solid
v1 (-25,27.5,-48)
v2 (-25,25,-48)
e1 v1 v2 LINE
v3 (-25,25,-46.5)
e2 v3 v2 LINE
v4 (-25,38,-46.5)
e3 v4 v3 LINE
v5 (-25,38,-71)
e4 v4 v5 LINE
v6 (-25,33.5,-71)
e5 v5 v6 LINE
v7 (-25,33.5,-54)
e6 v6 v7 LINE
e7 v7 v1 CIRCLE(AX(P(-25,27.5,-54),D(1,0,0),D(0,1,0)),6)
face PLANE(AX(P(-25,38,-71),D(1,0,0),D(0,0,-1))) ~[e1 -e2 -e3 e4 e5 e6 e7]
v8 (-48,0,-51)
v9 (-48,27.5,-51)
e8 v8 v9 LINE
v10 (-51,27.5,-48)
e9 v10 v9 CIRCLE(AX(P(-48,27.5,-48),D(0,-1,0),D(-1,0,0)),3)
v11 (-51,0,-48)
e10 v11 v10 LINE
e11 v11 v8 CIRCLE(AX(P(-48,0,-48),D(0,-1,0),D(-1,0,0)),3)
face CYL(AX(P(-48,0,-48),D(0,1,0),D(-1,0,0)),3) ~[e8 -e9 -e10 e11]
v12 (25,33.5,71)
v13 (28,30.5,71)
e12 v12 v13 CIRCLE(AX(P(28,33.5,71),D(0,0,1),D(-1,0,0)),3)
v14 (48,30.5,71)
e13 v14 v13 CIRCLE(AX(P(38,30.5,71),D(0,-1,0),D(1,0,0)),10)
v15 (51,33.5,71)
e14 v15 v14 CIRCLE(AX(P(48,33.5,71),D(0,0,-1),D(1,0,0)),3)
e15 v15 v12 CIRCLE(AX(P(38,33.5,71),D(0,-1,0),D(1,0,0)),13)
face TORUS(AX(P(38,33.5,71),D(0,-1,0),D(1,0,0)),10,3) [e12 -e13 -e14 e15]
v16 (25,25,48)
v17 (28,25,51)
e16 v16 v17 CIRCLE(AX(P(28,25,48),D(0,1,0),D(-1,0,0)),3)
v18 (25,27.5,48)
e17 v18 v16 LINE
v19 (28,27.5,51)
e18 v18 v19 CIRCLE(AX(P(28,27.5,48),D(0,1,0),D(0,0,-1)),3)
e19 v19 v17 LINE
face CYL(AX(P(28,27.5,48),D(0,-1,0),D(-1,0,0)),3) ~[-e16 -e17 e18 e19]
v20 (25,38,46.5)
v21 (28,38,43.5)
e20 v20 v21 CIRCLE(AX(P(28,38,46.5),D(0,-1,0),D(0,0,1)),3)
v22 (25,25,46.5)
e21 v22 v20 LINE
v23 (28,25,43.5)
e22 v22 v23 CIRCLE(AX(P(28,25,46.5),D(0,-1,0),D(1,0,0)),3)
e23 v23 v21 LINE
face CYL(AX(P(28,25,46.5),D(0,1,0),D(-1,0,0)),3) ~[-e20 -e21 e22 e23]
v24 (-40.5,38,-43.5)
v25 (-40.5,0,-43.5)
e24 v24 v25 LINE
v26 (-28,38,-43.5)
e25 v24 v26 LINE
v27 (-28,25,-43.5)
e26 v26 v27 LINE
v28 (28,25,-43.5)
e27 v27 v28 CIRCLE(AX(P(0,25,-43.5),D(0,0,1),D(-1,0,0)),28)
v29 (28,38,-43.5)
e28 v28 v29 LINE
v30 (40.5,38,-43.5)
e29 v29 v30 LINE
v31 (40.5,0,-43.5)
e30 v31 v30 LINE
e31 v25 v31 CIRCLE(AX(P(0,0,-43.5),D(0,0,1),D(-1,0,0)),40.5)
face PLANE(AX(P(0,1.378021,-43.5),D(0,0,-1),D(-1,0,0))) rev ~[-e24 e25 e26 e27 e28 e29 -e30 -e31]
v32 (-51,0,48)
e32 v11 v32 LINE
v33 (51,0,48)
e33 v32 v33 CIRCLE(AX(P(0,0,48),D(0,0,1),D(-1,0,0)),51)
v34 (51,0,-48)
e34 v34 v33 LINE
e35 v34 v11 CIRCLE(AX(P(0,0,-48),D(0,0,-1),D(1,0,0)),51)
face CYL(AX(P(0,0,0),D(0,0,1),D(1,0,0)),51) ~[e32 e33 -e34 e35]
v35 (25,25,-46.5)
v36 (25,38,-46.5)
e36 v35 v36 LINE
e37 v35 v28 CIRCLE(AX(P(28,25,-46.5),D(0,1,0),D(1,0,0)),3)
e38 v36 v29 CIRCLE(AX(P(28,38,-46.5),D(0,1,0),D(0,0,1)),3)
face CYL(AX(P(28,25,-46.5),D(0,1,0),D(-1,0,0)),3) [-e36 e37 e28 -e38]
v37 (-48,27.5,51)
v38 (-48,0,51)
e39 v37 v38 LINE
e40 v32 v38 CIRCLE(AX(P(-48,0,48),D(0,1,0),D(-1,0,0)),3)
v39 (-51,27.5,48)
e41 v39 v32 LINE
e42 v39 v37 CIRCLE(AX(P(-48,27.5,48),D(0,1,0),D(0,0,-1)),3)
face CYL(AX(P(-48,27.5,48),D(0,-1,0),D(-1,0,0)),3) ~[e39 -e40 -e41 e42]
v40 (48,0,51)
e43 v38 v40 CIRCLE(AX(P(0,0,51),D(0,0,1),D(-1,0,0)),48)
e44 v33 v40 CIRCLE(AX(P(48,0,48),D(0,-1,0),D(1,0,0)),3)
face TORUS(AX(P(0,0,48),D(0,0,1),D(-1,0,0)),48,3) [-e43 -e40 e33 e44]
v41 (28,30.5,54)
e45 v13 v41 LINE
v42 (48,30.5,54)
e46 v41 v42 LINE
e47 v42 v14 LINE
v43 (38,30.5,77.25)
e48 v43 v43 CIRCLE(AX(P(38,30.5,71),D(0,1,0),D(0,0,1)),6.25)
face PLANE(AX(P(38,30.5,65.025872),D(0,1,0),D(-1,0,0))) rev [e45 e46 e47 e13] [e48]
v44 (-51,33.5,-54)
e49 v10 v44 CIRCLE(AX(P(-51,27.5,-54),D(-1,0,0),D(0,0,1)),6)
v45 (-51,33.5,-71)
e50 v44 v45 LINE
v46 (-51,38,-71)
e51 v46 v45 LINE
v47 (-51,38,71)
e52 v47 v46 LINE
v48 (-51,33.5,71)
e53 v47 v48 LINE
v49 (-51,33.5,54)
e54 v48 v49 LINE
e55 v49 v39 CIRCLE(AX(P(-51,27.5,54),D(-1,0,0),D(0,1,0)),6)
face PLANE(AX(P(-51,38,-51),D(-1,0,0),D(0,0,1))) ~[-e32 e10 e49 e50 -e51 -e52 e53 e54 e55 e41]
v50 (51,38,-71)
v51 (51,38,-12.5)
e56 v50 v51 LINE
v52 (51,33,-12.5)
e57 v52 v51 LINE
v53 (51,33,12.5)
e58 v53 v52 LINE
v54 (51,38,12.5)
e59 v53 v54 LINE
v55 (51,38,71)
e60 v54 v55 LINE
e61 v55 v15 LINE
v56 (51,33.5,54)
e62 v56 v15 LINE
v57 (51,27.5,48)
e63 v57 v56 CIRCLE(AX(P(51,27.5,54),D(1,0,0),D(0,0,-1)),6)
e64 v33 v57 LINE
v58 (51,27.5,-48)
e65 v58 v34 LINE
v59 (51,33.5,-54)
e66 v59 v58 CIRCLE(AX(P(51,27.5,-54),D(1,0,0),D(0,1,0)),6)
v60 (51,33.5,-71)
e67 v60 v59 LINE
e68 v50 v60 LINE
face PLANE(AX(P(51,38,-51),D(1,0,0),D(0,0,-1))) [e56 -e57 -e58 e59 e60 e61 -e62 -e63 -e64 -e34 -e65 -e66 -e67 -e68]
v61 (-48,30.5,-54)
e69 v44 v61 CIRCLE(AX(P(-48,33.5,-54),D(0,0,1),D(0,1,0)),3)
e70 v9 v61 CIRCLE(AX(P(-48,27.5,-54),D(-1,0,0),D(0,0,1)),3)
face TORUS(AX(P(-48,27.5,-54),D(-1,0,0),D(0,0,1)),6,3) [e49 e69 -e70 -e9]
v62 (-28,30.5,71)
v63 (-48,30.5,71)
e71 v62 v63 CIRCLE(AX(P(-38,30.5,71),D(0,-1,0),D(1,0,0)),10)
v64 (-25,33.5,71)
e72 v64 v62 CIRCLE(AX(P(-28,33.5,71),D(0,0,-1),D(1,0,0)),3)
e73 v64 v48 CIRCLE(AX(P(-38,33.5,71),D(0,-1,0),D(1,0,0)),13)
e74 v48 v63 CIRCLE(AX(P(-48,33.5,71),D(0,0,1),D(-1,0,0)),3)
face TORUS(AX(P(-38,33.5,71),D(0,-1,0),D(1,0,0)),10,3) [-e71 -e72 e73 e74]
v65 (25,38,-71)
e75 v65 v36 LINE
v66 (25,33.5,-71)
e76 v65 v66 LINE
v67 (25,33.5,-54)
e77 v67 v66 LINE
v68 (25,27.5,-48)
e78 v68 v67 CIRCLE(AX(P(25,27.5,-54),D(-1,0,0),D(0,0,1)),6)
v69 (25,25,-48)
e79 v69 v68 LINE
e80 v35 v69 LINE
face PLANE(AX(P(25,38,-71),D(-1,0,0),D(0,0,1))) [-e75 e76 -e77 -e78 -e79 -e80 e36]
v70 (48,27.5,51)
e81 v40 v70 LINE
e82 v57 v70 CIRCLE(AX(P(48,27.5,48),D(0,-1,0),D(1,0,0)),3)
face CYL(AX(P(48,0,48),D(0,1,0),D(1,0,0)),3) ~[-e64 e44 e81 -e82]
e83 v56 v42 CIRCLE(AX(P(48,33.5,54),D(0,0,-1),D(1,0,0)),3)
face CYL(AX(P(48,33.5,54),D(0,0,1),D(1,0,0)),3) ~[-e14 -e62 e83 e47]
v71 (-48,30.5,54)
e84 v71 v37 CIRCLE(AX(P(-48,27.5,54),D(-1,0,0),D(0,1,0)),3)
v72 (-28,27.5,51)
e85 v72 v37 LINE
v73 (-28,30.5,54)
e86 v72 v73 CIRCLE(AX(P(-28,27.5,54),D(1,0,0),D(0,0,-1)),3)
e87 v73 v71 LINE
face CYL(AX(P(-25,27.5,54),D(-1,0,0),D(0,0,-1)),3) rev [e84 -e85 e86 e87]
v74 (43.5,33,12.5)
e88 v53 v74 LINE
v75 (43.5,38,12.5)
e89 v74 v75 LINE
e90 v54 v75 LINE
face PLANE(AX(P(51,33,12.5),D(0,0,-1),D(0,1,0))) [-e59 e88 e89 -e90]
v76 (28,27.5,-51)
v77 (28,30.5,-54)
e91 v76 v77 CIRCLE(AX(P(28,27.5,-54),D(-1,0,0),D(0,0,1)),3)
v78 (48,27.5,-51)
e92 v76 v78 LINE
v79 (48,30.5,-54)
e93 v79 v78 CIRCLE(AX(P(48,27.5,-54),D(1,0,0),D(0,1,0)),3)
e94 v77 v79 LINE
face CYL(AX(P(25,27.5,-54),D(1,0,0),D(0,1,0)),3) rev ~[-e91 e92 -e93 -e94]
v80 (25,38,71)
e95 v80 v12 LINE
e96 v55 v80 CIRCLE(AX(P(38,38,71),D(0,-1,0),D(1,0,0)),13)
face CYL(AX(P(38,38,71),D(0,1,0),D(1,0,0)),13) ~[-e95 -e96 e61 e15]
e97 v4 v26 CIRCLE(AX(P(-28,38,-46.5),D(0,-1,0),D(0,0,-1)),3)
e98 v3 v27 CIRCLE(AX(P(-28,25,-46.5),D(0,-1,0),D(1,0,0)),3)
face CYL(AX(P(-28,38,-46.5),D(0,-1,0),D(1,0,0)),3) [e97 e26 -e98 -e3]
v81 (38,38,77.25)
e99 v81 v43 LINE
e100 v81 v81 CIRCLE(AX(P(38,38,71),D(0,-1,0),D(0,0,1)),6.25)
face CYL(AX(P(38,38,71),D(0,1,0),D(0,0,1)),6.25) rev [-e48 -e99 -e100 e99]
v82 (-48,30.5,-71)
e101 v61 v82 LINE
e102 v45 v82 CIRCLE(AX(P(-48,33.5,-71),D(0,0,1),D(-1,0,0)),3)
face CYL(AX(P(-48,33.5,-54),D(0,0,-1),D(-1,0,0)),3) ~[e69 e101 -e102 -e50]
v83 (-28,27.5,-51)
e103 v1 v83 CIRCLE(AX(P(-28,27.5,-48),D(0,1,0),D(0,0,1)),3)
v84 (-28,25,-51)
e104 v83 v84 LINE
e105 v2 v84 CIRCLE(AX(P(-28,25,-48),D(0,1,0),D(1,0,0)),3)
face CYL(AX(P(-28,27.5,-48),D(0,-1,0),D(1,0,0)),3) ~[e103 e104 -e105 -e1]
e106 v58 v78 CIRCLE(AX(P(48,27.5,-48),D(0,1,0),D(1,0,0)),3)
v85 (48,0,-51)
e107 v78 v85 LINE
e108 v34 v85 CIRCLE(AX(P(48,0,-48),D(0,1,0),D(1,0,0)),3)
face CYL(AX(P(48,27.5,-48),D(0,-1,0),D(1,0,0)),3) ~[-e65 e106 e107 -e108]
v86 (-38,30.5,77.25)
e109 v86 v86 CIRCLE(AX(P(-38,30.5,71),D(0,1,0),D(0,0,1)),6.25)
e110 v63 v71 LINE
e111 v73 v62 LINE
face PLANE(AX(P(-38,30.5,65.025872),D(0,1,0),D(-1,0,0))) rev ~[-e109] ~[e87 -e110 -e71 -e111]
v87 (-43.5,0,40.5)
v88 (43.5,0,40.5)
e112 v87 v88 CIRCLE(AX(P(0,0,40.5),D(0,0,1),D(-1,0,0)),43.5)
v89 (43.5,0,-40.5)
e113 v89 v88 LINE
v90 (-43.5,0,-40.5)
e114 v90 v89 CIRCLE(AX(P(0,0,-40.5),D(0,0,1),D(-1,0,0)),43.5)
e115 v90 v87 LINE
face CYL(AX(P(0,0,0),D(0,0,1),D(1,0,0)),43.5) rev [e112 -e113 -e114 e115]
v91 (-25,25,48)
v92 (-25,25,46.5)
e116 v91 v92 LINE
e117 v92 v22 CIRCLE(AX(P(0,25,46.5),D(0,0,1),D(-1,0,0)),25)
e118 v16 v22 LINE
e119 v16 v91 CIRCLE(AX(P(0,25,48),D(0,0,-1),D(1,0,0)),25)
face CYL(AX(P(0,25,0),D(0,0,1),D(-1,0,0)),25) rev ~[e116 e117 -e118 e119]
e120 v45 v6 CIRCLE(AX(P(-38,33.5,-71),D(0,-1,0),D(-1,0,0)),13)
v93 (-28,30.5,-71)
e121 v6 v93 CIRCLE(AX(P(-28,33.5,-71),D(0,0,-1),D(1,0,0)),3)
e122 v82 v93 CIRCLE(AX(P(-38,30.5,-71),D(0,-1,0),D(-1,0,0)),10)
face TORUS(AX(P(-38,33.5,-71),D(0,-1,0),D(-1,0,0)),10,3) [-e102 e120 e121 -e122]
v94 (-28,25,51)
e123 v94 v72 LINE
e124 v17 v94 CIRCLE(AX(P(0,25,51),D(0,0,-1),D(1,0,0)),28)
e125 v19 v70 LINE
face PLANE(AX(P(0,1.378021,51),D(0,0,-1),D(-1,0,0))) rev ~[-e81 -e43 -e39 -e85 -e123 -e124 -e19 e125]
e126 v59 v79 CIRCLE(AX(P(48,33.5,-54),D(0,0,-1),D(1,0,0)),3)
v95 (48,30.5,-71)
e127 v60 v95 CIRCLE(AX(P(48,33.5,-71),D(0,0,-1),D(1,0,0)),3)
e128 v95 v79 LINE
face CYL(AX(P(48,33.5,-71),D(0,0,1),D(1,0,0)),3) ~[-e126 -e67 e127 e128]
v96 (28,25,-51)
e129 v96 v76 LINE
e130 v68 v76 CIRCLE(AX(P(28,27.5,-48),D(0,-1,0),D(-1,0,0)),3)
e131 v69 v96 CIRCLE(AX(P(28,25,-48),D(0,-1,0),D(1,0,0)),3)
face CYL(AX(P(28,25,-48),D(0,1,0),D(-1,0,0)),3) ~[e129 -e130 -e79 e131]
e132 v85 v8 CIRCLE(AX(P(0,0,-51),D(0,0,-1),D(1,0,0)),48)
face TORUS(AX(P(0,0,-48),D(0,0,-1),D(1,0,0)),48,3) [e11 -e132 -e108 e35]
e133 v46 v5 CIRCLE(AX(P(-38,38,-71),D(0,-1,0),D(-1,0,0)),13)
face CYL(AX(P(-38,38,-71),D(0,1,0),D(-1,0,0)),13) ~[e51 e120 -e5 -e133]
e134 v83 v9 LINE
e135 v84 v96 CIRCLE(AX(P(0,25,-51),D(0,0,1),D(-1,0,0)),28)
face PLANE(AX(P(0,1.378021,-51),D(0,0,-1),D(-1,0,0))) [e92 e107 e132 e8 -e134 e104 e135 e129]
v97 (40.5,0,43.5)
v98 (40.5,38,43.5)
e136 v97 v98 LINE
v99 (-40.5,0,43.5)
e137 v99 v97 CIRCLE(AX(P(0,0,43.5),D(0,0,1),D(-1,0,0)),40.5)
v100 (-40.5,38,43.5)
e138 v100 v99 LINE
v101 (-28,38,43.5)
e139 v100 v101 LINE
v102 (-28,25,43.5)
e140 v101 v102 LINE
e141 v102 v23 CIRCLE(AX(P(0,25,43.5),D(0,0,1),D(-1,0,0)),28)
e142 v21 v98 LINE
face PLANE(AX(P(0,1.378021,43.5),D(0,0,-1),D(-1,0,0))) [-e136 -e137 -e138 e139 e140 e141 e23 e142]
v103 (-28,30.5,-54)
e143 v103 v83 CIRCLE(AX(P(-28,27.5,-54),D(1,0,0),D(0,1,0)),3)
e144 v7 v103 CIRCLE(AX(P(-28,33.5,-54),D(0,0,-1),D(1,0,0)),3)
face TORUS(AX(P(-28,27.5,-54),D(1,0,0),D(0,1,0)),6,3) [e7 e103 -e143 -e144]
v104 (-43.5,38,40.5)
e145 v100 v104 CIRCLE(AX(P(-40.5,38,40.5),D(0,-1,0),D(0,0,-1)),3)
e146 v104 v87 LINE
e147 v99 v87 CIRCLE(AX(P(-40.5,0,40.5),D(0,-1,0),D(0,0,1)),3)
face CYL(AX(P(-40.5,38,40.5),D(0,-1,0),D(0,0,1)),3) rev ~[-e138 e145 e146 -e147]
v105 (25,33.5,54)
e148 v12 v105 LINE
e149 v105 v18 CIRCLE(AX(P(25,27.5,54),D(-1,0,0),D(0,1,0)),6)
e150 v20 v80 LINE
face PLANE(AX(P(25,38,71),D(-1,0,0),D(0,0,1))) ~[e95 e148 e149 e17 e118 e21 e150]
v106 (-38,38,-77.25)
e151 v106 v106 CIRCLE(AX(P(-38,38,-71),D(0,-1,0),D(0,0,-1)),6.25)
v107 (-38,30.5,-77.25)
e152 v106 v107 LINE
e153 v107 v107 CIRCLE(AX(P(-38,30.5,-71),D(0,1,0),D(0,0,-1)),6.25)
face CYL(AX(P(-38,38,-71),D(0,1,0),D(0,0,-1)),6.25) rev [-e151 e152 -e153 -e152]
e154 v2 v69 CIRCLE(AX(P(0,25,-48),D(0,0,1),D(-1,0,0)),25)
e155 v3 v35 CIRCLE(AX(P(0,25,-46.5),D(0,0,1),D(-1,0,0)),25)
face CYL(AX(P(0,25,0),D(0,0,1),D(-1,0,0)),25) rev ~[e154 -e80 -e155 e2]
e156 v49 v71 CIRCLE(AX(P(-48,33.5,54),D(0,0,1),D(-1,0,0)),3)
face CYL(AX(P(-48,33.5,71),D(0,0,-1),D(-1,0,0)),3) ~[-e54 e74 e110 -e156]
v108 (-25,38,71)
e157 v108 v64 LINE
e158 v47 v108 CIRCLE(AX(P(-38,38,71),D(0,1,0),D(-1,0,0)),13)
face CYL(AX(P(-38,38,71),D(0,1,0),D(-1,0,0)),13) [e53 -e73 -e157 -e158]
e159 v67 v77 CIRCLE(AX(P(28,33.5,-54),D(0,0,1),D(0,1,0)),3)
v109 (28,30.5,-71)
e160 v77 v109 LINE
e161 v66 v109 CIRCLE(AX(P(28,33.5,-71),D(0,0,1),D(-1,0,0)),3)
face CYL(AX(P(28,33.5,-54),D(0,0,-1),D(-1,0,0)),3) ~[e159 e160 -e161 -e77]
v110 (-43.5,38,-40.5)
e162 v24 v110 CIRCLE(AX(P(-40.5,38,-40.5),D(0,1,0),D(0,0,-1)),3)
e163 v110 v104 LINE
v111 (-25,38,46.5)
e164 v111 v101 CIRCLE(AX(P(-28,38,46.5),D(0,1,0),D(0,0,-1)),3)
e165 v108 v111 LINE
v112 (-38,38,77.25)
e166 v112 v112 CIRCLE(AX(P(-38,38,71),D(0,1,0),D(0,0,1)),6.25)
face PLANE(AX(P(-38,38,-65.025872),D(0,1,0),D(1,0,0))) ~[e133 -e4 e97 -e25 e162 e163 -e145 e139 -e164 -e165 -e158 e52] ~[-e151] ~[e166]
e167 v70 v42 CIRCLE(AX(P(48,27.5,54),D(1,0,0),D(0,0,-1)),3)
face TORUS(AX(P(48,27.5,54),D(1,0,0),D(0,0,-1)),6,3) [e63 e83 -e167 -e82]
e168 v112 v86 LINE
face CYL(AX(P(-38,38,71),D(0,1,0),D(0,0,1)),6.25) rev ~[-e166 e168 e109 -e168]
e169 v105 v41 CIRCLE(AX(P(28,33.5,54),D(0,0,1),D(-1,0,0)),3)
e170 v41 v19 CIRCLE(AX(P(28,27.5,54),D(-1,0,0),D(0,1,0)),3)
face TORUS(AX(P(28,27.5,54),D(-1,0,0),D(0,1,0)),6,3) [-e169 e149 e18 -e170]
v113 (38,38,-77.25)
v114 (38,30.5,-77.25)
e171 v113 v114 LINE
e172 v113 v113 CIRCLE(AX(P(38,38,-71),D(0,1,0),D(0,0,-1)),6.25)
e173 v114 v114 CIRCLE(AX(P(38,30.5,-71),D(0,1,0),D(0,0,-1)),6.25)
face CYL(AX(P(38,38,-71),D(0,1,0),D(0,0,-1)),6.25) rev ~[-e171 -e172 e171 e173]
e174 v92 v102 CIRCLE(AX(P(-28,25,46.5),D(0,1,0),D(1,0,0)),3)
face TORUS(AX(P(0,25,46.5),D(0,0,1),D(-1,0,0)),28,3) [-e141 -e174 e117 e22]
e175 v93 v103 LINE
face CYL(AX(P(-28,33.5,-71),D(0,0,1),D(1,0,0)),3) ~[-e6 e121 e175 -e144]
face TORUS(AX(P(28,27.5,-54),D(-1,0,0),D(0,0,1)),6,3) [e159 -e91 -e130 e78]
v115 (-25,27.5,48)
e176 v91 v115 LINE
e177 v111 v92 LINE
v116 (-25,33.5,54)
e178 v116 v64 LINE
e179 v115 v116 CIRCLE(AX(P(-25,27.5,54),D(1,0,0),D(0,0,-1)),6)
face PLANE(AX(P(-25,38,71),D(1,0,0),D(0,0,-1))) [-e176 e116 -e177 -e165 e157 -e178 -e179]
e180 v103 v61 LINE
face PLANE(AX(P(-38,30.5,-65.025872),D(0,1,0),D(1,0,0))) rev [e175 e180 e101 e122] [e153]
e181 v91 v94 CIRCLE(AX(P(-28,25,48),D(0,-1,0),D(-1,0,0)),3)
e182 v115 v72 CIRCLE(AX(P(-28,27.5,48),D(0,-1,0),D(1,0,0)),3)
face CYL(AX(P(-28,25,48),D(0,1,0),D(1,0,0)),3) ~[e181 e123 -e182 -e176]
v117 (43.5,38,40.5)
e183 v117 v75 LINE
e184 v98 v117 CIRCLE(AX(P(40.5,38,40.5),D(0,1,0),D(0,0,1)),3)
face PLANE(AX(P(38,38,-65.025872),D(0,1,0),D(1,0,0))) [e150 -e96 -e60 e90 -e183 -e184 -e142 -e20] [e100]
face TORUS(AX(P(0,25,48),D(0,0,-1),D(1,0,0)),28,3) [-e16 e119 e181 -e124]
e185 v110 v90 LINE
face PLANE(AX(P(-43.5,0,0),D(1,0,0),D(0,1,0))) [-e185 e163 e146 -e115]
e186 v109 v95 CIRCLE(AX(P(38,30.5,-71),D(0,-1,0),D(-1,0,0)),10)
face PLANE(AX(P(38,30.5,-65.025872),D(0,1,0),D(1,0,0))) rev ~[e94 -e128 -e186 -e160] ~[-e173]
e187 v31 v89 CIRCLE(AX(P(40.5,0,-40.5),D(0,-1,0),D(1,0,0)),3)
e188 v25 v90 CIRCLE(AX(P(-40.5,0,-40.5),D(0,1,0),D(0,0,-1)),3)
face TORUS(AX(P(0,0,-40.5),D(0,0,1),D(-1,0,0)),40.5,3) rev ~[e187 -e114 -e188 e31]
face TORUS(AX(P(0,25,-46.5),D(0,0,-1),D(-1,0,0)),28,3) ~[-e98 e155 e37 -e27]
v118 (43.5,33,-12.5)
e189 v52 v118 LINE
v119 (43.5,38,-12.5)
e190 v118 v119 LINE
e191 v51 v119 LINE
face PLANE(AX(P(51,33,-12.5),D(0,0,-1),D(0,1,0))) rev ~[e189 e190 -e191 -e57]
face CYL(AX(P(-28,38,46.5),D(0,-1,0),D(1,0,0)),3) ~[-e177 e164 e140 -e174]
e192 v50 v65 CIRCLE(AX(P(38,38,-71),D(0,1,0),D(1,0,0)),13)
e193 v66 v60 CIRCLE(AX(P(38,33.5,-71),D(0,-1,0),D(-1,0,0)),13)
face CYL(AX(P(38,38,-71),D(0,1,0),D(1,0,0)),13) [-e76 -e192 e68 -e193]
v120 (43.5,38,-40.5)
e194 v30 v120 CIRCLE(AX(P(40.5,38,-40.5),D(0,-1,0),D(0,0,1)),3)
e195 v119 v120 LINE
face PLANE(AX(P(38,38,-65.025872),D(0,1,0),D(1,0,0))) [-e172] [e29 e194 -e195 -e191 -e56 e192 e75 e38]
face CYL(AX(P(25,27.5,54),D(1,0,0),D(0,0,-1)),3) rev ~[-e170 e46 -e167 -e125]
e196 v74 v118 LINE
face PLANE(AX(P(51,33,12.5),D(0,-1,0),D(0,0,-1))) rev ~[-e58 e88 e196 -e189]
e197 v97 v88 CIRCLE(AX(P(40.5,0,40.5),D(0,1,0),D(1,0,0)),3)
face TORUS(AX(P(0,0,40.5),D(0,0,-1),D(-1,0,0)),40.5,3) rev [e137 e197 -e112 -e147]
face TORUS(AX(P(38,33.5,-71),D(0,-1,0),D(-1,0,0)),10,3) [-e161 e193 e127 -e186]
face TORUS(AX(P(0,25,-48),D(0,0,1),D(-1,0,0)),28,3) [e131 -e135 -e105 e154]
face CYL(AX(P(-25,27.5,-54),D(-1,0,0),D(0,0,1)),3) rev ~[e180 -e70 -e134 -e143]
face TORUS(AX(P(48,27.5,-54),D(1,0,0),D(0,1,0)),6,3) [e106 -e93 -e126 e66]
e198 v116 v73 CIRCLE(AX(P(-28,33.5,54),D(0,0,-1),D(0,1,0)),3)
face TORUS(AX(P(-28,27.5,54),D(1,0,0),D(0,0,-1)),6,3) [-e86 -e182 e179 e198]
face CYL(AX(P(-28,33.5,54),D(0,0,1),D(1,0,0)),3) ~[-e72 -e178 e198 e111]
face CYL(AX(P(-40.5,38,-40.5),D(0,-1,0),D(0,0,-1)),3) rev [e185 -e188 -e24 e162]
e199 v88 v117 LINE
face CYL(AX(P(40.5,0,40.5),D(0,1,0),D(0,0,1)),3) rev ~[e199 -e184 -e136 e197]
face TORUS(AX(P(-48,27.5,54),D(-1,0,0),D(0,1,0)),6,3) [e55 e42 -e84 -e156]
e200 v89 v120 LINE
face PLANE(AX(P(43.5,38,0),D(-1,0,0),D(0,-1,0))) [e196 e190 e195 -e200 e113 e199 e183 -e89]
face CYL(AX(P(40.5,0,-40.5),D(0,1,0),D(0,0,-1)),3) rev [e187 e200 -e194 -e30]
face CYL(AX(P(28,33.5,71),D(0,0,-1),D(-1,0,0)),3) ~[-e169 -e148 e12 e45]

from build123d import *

# Parameters (mm, degrees)
BASE_EXTRUDE_DEPTH      = 51
SHELL1_T                = -7.5
BOSS_EXTRUDE1_DEPTH     = 7.5
SKETCH3_R               = 6.25
CUT_EXTRUDE1_DEPTH      = 133.582050067
MIRROR2_COPY_1_DEPTH    = 7.5
MIRROR2_COPY_2_SKETCH_R = 6.25
MIRROR2_COPY_2_DEPTH    = 133.582050067
CUT_EXTRUDE2_REACH      = 143.637
SKETCH4_W               = 25
SKETCH4_H               = 5
FILLET1_R               = 3
FILLET2_R               = 3


with BuildPart() as part:
    # Sketch1 → Base-Extrude (new, symmetric)
    with BuildSketch(Plane.XY):
        with BuildLine():
            Line((-51, 0), (-51, 38))
            Line((-51, 38), (-25, 38))
            Line((-25, 38), (-25, 25))
            ThreePointArc((-25, 25), (0, 0), (25, 25))
            Line((25, 25), (25, 38))
            Line((25, 38), (51, 38))
            Line((51, 38), (51, 0))
            ThreePointArc((51, 0), (0, -51), (-51, 0))
        make_face()
    extrude(amount=BASE_EXTRUDE_DEPTH, both=True)

    # Shell1
    shell1_openings = [part.faces().sort_by_distance(p)[0] for p in [
        (-38, 38, 0),
        (-25, 31.5, 0),
        (0, 0, 0),
        (25, 31.5, 0),
        (38, 38, 0),
    ]]
    offset(amount=SHELL1_T, openings=shell1_openings, kind=Kind.INTERSECTION)

    # Sketch2 → Boss-Extrude1 (add)
    with BuildSketch(Plane(origin=(0, 38, 0), x_dir=(-1, 0, 0), z_dir=(0, 1, 0))):
        with BuildLine():
            Line((51, 51), (51, 71))
            ThreePointArc((51, 71), (38, 84), (25, 71))
            Line((25, 71), (25, 51))
            Line((25, 51), (51, 51))
        make_face()
    boss_extrude1 = extrude(amount=-BOSS_EXTRUDE1_DEPTH)

    # Sketch3 → Cut-Extrude1 (cut, through all)
    with BuildSketch(Plane(origin=(0, 38, 0), x_dir=(-1, 0, 0), z_dir=(0, 1, 0))):
        with Locations(Location((38, 71, 0), (0, 0, 90))):
            Circle(SKETCH3_R)
    cut_extrude1 = extrude(amount=-CUT_EXTRUDE1_DEPTH, mode=Mode.SUBTRACT)

    # Mirror1: Boss-Extrude1, Cut-Extrude1 across plane
    add(boss_extrude1.mirror(Plane(origin=(0, 0, 0), x_dir=(0, 0, 1), z_dir=(1, 0, 0))))
    add(cut_extrude1.mirror(Plane(origin=(0, 0, 0), x_dir=(0, 0, 1), z_dir=(1, 0, 0))), mode=Mode.SUBTRACT)

    # Mirror2: Boss-Extrude1, Cut-Extrude1 across plane
    add(boss_extrude1.mirror(Plane.XY))
    add(cut_extrude1.mirror(Plane.XY), mode=Mode.SUBTRACT)

    # Mirror2 copy 1 sketch → Mirror2 copy 1 (add)
    with BuildSketch(Plane(origin=(0, 38, 0), x_dir=(1, 0, 0), z_dir=(0, 1, 0))):
        with BuildLine():
            Line((51, 51), (51, 71))
            ThreePointArc((51, 71), (38, 84), (25, 71))
            Line((25, 71), (25, 51))
            Line((25, 51), (51, 51))
        make_face()
    extrude(amount=-MIRROR2_COPY_1_DEPTH)

    # Mirror2 copy 2 sketch → Mirror2 copy 2 (cut, through all)
    with BuildSketch(Plane(origin=(0, 38, 0), x_dir=(1, 0, 0), z_dir=(0, 1, 0))):
        with Locations(Location((38, 71, 0), (0, 0, 90))):
            Circle(MIRROR2_COPY_2_SKETCH_R)
    extrude(amount=-MIRROR2_COPY_2_DEPTH, mode=Mode.SUBTRACT)

    # Sketch4 → Cut-Extrude2 (cut, up to next)
    with BuildSketch(Plane(origin=(51, 0, 0), x_dir=(0, 0, -1), z_dir=(1, 0, 0)), mode=Mode.PRIVATE) as cut_extrude2_sk1:
        with Locations((0, 35.5)):
            Rectangle(SKETCH4_W, SKETCH4_H)
    cut_extrude2_tool1 = extrude(cut_extrude2_sk1.sketch, amount=-CUT_EXTRUDE2_REACH, mode=Mode.PRIVATE) & part.part
    add(cut_extrude2_tool1.solids().sort_by_distance((51, 35.5, 0))[0], mode=Mode.SUBTRACT)

    # Fillet1
    fillet1_edges = [part.edges().sort_by_distance(p)[0] for p in [
        (-38, 30.5, -51),
        (-38, 30.5, 51),
        (38, 30.5, 51),
        (38, 30.5, -51),
    ]]
    fillet(fillet1_edges, radius=FILLET1_R)

    # Fillet2
    fillet2_edges = [part.edges().sort_by_distance(p)[0] for p in [
        (51, 13.75, -51),
        (-38, 30.5, -84),
        (-25, 30.5, -62.5),
        (0, -51, -51),
        (-51, 30.5, -62.5),
        (25, 26.25, -51),
        (-51, 13.75, -51),
        (51, 30.5, -62.5),
        (51, 30.5, 62.5),
        (25, 26.25, 51),
        (-51, 13.75, 51),
        (-51, 30.5, 62.5),
        (-51, 29.621320344, -51.878679656),
        (-25, 29.621320344, -51.878679656),
        (51, 29.621320344, -51.878679656),
        (25, 29.621320344, -51.878679656),
        (51, 29.621320344, 51.878679656),
        (25, 29.621320344, 51.878679656),
        (-51, 29.621320344, 51.878679656),
        (-25, 29.621320344, 51.878679656),
        (0, 0, 51),
        (-25, 26.25, 51),
        (0, -43.5, -43.5),
        (43.5, 19, -43.5),
        (25, 31.5, -43.5),
        (0, 0, -43.5),
        (-25, 31.5, -43.5),
        (-43.5, 19, -43.5),
        (0, -43.5, 43.5),
        (43.5, 19, 43.5),
        (25, 31.5, 43.5),
        (0, 0, 43.5),
        (-25, 31.5, 43.5),
        (-43.5, 19, 43.5),
        (0, -51, 51),
        (-25, 30.5, 62.5),
        (-38, 30.5, 84),
        (38, 30.5, 84),
        (25, 30.5, 62.5),
        (51, 13.75, 51),
        (25, 30.5, -62.5),
        (38, 30.5, -84),
        (-25, 26.25, -51),
        (0, 0, -51),
    ]]
    fillet(fillet2_edges, radius=FILLET2_R)


solid = part.part
